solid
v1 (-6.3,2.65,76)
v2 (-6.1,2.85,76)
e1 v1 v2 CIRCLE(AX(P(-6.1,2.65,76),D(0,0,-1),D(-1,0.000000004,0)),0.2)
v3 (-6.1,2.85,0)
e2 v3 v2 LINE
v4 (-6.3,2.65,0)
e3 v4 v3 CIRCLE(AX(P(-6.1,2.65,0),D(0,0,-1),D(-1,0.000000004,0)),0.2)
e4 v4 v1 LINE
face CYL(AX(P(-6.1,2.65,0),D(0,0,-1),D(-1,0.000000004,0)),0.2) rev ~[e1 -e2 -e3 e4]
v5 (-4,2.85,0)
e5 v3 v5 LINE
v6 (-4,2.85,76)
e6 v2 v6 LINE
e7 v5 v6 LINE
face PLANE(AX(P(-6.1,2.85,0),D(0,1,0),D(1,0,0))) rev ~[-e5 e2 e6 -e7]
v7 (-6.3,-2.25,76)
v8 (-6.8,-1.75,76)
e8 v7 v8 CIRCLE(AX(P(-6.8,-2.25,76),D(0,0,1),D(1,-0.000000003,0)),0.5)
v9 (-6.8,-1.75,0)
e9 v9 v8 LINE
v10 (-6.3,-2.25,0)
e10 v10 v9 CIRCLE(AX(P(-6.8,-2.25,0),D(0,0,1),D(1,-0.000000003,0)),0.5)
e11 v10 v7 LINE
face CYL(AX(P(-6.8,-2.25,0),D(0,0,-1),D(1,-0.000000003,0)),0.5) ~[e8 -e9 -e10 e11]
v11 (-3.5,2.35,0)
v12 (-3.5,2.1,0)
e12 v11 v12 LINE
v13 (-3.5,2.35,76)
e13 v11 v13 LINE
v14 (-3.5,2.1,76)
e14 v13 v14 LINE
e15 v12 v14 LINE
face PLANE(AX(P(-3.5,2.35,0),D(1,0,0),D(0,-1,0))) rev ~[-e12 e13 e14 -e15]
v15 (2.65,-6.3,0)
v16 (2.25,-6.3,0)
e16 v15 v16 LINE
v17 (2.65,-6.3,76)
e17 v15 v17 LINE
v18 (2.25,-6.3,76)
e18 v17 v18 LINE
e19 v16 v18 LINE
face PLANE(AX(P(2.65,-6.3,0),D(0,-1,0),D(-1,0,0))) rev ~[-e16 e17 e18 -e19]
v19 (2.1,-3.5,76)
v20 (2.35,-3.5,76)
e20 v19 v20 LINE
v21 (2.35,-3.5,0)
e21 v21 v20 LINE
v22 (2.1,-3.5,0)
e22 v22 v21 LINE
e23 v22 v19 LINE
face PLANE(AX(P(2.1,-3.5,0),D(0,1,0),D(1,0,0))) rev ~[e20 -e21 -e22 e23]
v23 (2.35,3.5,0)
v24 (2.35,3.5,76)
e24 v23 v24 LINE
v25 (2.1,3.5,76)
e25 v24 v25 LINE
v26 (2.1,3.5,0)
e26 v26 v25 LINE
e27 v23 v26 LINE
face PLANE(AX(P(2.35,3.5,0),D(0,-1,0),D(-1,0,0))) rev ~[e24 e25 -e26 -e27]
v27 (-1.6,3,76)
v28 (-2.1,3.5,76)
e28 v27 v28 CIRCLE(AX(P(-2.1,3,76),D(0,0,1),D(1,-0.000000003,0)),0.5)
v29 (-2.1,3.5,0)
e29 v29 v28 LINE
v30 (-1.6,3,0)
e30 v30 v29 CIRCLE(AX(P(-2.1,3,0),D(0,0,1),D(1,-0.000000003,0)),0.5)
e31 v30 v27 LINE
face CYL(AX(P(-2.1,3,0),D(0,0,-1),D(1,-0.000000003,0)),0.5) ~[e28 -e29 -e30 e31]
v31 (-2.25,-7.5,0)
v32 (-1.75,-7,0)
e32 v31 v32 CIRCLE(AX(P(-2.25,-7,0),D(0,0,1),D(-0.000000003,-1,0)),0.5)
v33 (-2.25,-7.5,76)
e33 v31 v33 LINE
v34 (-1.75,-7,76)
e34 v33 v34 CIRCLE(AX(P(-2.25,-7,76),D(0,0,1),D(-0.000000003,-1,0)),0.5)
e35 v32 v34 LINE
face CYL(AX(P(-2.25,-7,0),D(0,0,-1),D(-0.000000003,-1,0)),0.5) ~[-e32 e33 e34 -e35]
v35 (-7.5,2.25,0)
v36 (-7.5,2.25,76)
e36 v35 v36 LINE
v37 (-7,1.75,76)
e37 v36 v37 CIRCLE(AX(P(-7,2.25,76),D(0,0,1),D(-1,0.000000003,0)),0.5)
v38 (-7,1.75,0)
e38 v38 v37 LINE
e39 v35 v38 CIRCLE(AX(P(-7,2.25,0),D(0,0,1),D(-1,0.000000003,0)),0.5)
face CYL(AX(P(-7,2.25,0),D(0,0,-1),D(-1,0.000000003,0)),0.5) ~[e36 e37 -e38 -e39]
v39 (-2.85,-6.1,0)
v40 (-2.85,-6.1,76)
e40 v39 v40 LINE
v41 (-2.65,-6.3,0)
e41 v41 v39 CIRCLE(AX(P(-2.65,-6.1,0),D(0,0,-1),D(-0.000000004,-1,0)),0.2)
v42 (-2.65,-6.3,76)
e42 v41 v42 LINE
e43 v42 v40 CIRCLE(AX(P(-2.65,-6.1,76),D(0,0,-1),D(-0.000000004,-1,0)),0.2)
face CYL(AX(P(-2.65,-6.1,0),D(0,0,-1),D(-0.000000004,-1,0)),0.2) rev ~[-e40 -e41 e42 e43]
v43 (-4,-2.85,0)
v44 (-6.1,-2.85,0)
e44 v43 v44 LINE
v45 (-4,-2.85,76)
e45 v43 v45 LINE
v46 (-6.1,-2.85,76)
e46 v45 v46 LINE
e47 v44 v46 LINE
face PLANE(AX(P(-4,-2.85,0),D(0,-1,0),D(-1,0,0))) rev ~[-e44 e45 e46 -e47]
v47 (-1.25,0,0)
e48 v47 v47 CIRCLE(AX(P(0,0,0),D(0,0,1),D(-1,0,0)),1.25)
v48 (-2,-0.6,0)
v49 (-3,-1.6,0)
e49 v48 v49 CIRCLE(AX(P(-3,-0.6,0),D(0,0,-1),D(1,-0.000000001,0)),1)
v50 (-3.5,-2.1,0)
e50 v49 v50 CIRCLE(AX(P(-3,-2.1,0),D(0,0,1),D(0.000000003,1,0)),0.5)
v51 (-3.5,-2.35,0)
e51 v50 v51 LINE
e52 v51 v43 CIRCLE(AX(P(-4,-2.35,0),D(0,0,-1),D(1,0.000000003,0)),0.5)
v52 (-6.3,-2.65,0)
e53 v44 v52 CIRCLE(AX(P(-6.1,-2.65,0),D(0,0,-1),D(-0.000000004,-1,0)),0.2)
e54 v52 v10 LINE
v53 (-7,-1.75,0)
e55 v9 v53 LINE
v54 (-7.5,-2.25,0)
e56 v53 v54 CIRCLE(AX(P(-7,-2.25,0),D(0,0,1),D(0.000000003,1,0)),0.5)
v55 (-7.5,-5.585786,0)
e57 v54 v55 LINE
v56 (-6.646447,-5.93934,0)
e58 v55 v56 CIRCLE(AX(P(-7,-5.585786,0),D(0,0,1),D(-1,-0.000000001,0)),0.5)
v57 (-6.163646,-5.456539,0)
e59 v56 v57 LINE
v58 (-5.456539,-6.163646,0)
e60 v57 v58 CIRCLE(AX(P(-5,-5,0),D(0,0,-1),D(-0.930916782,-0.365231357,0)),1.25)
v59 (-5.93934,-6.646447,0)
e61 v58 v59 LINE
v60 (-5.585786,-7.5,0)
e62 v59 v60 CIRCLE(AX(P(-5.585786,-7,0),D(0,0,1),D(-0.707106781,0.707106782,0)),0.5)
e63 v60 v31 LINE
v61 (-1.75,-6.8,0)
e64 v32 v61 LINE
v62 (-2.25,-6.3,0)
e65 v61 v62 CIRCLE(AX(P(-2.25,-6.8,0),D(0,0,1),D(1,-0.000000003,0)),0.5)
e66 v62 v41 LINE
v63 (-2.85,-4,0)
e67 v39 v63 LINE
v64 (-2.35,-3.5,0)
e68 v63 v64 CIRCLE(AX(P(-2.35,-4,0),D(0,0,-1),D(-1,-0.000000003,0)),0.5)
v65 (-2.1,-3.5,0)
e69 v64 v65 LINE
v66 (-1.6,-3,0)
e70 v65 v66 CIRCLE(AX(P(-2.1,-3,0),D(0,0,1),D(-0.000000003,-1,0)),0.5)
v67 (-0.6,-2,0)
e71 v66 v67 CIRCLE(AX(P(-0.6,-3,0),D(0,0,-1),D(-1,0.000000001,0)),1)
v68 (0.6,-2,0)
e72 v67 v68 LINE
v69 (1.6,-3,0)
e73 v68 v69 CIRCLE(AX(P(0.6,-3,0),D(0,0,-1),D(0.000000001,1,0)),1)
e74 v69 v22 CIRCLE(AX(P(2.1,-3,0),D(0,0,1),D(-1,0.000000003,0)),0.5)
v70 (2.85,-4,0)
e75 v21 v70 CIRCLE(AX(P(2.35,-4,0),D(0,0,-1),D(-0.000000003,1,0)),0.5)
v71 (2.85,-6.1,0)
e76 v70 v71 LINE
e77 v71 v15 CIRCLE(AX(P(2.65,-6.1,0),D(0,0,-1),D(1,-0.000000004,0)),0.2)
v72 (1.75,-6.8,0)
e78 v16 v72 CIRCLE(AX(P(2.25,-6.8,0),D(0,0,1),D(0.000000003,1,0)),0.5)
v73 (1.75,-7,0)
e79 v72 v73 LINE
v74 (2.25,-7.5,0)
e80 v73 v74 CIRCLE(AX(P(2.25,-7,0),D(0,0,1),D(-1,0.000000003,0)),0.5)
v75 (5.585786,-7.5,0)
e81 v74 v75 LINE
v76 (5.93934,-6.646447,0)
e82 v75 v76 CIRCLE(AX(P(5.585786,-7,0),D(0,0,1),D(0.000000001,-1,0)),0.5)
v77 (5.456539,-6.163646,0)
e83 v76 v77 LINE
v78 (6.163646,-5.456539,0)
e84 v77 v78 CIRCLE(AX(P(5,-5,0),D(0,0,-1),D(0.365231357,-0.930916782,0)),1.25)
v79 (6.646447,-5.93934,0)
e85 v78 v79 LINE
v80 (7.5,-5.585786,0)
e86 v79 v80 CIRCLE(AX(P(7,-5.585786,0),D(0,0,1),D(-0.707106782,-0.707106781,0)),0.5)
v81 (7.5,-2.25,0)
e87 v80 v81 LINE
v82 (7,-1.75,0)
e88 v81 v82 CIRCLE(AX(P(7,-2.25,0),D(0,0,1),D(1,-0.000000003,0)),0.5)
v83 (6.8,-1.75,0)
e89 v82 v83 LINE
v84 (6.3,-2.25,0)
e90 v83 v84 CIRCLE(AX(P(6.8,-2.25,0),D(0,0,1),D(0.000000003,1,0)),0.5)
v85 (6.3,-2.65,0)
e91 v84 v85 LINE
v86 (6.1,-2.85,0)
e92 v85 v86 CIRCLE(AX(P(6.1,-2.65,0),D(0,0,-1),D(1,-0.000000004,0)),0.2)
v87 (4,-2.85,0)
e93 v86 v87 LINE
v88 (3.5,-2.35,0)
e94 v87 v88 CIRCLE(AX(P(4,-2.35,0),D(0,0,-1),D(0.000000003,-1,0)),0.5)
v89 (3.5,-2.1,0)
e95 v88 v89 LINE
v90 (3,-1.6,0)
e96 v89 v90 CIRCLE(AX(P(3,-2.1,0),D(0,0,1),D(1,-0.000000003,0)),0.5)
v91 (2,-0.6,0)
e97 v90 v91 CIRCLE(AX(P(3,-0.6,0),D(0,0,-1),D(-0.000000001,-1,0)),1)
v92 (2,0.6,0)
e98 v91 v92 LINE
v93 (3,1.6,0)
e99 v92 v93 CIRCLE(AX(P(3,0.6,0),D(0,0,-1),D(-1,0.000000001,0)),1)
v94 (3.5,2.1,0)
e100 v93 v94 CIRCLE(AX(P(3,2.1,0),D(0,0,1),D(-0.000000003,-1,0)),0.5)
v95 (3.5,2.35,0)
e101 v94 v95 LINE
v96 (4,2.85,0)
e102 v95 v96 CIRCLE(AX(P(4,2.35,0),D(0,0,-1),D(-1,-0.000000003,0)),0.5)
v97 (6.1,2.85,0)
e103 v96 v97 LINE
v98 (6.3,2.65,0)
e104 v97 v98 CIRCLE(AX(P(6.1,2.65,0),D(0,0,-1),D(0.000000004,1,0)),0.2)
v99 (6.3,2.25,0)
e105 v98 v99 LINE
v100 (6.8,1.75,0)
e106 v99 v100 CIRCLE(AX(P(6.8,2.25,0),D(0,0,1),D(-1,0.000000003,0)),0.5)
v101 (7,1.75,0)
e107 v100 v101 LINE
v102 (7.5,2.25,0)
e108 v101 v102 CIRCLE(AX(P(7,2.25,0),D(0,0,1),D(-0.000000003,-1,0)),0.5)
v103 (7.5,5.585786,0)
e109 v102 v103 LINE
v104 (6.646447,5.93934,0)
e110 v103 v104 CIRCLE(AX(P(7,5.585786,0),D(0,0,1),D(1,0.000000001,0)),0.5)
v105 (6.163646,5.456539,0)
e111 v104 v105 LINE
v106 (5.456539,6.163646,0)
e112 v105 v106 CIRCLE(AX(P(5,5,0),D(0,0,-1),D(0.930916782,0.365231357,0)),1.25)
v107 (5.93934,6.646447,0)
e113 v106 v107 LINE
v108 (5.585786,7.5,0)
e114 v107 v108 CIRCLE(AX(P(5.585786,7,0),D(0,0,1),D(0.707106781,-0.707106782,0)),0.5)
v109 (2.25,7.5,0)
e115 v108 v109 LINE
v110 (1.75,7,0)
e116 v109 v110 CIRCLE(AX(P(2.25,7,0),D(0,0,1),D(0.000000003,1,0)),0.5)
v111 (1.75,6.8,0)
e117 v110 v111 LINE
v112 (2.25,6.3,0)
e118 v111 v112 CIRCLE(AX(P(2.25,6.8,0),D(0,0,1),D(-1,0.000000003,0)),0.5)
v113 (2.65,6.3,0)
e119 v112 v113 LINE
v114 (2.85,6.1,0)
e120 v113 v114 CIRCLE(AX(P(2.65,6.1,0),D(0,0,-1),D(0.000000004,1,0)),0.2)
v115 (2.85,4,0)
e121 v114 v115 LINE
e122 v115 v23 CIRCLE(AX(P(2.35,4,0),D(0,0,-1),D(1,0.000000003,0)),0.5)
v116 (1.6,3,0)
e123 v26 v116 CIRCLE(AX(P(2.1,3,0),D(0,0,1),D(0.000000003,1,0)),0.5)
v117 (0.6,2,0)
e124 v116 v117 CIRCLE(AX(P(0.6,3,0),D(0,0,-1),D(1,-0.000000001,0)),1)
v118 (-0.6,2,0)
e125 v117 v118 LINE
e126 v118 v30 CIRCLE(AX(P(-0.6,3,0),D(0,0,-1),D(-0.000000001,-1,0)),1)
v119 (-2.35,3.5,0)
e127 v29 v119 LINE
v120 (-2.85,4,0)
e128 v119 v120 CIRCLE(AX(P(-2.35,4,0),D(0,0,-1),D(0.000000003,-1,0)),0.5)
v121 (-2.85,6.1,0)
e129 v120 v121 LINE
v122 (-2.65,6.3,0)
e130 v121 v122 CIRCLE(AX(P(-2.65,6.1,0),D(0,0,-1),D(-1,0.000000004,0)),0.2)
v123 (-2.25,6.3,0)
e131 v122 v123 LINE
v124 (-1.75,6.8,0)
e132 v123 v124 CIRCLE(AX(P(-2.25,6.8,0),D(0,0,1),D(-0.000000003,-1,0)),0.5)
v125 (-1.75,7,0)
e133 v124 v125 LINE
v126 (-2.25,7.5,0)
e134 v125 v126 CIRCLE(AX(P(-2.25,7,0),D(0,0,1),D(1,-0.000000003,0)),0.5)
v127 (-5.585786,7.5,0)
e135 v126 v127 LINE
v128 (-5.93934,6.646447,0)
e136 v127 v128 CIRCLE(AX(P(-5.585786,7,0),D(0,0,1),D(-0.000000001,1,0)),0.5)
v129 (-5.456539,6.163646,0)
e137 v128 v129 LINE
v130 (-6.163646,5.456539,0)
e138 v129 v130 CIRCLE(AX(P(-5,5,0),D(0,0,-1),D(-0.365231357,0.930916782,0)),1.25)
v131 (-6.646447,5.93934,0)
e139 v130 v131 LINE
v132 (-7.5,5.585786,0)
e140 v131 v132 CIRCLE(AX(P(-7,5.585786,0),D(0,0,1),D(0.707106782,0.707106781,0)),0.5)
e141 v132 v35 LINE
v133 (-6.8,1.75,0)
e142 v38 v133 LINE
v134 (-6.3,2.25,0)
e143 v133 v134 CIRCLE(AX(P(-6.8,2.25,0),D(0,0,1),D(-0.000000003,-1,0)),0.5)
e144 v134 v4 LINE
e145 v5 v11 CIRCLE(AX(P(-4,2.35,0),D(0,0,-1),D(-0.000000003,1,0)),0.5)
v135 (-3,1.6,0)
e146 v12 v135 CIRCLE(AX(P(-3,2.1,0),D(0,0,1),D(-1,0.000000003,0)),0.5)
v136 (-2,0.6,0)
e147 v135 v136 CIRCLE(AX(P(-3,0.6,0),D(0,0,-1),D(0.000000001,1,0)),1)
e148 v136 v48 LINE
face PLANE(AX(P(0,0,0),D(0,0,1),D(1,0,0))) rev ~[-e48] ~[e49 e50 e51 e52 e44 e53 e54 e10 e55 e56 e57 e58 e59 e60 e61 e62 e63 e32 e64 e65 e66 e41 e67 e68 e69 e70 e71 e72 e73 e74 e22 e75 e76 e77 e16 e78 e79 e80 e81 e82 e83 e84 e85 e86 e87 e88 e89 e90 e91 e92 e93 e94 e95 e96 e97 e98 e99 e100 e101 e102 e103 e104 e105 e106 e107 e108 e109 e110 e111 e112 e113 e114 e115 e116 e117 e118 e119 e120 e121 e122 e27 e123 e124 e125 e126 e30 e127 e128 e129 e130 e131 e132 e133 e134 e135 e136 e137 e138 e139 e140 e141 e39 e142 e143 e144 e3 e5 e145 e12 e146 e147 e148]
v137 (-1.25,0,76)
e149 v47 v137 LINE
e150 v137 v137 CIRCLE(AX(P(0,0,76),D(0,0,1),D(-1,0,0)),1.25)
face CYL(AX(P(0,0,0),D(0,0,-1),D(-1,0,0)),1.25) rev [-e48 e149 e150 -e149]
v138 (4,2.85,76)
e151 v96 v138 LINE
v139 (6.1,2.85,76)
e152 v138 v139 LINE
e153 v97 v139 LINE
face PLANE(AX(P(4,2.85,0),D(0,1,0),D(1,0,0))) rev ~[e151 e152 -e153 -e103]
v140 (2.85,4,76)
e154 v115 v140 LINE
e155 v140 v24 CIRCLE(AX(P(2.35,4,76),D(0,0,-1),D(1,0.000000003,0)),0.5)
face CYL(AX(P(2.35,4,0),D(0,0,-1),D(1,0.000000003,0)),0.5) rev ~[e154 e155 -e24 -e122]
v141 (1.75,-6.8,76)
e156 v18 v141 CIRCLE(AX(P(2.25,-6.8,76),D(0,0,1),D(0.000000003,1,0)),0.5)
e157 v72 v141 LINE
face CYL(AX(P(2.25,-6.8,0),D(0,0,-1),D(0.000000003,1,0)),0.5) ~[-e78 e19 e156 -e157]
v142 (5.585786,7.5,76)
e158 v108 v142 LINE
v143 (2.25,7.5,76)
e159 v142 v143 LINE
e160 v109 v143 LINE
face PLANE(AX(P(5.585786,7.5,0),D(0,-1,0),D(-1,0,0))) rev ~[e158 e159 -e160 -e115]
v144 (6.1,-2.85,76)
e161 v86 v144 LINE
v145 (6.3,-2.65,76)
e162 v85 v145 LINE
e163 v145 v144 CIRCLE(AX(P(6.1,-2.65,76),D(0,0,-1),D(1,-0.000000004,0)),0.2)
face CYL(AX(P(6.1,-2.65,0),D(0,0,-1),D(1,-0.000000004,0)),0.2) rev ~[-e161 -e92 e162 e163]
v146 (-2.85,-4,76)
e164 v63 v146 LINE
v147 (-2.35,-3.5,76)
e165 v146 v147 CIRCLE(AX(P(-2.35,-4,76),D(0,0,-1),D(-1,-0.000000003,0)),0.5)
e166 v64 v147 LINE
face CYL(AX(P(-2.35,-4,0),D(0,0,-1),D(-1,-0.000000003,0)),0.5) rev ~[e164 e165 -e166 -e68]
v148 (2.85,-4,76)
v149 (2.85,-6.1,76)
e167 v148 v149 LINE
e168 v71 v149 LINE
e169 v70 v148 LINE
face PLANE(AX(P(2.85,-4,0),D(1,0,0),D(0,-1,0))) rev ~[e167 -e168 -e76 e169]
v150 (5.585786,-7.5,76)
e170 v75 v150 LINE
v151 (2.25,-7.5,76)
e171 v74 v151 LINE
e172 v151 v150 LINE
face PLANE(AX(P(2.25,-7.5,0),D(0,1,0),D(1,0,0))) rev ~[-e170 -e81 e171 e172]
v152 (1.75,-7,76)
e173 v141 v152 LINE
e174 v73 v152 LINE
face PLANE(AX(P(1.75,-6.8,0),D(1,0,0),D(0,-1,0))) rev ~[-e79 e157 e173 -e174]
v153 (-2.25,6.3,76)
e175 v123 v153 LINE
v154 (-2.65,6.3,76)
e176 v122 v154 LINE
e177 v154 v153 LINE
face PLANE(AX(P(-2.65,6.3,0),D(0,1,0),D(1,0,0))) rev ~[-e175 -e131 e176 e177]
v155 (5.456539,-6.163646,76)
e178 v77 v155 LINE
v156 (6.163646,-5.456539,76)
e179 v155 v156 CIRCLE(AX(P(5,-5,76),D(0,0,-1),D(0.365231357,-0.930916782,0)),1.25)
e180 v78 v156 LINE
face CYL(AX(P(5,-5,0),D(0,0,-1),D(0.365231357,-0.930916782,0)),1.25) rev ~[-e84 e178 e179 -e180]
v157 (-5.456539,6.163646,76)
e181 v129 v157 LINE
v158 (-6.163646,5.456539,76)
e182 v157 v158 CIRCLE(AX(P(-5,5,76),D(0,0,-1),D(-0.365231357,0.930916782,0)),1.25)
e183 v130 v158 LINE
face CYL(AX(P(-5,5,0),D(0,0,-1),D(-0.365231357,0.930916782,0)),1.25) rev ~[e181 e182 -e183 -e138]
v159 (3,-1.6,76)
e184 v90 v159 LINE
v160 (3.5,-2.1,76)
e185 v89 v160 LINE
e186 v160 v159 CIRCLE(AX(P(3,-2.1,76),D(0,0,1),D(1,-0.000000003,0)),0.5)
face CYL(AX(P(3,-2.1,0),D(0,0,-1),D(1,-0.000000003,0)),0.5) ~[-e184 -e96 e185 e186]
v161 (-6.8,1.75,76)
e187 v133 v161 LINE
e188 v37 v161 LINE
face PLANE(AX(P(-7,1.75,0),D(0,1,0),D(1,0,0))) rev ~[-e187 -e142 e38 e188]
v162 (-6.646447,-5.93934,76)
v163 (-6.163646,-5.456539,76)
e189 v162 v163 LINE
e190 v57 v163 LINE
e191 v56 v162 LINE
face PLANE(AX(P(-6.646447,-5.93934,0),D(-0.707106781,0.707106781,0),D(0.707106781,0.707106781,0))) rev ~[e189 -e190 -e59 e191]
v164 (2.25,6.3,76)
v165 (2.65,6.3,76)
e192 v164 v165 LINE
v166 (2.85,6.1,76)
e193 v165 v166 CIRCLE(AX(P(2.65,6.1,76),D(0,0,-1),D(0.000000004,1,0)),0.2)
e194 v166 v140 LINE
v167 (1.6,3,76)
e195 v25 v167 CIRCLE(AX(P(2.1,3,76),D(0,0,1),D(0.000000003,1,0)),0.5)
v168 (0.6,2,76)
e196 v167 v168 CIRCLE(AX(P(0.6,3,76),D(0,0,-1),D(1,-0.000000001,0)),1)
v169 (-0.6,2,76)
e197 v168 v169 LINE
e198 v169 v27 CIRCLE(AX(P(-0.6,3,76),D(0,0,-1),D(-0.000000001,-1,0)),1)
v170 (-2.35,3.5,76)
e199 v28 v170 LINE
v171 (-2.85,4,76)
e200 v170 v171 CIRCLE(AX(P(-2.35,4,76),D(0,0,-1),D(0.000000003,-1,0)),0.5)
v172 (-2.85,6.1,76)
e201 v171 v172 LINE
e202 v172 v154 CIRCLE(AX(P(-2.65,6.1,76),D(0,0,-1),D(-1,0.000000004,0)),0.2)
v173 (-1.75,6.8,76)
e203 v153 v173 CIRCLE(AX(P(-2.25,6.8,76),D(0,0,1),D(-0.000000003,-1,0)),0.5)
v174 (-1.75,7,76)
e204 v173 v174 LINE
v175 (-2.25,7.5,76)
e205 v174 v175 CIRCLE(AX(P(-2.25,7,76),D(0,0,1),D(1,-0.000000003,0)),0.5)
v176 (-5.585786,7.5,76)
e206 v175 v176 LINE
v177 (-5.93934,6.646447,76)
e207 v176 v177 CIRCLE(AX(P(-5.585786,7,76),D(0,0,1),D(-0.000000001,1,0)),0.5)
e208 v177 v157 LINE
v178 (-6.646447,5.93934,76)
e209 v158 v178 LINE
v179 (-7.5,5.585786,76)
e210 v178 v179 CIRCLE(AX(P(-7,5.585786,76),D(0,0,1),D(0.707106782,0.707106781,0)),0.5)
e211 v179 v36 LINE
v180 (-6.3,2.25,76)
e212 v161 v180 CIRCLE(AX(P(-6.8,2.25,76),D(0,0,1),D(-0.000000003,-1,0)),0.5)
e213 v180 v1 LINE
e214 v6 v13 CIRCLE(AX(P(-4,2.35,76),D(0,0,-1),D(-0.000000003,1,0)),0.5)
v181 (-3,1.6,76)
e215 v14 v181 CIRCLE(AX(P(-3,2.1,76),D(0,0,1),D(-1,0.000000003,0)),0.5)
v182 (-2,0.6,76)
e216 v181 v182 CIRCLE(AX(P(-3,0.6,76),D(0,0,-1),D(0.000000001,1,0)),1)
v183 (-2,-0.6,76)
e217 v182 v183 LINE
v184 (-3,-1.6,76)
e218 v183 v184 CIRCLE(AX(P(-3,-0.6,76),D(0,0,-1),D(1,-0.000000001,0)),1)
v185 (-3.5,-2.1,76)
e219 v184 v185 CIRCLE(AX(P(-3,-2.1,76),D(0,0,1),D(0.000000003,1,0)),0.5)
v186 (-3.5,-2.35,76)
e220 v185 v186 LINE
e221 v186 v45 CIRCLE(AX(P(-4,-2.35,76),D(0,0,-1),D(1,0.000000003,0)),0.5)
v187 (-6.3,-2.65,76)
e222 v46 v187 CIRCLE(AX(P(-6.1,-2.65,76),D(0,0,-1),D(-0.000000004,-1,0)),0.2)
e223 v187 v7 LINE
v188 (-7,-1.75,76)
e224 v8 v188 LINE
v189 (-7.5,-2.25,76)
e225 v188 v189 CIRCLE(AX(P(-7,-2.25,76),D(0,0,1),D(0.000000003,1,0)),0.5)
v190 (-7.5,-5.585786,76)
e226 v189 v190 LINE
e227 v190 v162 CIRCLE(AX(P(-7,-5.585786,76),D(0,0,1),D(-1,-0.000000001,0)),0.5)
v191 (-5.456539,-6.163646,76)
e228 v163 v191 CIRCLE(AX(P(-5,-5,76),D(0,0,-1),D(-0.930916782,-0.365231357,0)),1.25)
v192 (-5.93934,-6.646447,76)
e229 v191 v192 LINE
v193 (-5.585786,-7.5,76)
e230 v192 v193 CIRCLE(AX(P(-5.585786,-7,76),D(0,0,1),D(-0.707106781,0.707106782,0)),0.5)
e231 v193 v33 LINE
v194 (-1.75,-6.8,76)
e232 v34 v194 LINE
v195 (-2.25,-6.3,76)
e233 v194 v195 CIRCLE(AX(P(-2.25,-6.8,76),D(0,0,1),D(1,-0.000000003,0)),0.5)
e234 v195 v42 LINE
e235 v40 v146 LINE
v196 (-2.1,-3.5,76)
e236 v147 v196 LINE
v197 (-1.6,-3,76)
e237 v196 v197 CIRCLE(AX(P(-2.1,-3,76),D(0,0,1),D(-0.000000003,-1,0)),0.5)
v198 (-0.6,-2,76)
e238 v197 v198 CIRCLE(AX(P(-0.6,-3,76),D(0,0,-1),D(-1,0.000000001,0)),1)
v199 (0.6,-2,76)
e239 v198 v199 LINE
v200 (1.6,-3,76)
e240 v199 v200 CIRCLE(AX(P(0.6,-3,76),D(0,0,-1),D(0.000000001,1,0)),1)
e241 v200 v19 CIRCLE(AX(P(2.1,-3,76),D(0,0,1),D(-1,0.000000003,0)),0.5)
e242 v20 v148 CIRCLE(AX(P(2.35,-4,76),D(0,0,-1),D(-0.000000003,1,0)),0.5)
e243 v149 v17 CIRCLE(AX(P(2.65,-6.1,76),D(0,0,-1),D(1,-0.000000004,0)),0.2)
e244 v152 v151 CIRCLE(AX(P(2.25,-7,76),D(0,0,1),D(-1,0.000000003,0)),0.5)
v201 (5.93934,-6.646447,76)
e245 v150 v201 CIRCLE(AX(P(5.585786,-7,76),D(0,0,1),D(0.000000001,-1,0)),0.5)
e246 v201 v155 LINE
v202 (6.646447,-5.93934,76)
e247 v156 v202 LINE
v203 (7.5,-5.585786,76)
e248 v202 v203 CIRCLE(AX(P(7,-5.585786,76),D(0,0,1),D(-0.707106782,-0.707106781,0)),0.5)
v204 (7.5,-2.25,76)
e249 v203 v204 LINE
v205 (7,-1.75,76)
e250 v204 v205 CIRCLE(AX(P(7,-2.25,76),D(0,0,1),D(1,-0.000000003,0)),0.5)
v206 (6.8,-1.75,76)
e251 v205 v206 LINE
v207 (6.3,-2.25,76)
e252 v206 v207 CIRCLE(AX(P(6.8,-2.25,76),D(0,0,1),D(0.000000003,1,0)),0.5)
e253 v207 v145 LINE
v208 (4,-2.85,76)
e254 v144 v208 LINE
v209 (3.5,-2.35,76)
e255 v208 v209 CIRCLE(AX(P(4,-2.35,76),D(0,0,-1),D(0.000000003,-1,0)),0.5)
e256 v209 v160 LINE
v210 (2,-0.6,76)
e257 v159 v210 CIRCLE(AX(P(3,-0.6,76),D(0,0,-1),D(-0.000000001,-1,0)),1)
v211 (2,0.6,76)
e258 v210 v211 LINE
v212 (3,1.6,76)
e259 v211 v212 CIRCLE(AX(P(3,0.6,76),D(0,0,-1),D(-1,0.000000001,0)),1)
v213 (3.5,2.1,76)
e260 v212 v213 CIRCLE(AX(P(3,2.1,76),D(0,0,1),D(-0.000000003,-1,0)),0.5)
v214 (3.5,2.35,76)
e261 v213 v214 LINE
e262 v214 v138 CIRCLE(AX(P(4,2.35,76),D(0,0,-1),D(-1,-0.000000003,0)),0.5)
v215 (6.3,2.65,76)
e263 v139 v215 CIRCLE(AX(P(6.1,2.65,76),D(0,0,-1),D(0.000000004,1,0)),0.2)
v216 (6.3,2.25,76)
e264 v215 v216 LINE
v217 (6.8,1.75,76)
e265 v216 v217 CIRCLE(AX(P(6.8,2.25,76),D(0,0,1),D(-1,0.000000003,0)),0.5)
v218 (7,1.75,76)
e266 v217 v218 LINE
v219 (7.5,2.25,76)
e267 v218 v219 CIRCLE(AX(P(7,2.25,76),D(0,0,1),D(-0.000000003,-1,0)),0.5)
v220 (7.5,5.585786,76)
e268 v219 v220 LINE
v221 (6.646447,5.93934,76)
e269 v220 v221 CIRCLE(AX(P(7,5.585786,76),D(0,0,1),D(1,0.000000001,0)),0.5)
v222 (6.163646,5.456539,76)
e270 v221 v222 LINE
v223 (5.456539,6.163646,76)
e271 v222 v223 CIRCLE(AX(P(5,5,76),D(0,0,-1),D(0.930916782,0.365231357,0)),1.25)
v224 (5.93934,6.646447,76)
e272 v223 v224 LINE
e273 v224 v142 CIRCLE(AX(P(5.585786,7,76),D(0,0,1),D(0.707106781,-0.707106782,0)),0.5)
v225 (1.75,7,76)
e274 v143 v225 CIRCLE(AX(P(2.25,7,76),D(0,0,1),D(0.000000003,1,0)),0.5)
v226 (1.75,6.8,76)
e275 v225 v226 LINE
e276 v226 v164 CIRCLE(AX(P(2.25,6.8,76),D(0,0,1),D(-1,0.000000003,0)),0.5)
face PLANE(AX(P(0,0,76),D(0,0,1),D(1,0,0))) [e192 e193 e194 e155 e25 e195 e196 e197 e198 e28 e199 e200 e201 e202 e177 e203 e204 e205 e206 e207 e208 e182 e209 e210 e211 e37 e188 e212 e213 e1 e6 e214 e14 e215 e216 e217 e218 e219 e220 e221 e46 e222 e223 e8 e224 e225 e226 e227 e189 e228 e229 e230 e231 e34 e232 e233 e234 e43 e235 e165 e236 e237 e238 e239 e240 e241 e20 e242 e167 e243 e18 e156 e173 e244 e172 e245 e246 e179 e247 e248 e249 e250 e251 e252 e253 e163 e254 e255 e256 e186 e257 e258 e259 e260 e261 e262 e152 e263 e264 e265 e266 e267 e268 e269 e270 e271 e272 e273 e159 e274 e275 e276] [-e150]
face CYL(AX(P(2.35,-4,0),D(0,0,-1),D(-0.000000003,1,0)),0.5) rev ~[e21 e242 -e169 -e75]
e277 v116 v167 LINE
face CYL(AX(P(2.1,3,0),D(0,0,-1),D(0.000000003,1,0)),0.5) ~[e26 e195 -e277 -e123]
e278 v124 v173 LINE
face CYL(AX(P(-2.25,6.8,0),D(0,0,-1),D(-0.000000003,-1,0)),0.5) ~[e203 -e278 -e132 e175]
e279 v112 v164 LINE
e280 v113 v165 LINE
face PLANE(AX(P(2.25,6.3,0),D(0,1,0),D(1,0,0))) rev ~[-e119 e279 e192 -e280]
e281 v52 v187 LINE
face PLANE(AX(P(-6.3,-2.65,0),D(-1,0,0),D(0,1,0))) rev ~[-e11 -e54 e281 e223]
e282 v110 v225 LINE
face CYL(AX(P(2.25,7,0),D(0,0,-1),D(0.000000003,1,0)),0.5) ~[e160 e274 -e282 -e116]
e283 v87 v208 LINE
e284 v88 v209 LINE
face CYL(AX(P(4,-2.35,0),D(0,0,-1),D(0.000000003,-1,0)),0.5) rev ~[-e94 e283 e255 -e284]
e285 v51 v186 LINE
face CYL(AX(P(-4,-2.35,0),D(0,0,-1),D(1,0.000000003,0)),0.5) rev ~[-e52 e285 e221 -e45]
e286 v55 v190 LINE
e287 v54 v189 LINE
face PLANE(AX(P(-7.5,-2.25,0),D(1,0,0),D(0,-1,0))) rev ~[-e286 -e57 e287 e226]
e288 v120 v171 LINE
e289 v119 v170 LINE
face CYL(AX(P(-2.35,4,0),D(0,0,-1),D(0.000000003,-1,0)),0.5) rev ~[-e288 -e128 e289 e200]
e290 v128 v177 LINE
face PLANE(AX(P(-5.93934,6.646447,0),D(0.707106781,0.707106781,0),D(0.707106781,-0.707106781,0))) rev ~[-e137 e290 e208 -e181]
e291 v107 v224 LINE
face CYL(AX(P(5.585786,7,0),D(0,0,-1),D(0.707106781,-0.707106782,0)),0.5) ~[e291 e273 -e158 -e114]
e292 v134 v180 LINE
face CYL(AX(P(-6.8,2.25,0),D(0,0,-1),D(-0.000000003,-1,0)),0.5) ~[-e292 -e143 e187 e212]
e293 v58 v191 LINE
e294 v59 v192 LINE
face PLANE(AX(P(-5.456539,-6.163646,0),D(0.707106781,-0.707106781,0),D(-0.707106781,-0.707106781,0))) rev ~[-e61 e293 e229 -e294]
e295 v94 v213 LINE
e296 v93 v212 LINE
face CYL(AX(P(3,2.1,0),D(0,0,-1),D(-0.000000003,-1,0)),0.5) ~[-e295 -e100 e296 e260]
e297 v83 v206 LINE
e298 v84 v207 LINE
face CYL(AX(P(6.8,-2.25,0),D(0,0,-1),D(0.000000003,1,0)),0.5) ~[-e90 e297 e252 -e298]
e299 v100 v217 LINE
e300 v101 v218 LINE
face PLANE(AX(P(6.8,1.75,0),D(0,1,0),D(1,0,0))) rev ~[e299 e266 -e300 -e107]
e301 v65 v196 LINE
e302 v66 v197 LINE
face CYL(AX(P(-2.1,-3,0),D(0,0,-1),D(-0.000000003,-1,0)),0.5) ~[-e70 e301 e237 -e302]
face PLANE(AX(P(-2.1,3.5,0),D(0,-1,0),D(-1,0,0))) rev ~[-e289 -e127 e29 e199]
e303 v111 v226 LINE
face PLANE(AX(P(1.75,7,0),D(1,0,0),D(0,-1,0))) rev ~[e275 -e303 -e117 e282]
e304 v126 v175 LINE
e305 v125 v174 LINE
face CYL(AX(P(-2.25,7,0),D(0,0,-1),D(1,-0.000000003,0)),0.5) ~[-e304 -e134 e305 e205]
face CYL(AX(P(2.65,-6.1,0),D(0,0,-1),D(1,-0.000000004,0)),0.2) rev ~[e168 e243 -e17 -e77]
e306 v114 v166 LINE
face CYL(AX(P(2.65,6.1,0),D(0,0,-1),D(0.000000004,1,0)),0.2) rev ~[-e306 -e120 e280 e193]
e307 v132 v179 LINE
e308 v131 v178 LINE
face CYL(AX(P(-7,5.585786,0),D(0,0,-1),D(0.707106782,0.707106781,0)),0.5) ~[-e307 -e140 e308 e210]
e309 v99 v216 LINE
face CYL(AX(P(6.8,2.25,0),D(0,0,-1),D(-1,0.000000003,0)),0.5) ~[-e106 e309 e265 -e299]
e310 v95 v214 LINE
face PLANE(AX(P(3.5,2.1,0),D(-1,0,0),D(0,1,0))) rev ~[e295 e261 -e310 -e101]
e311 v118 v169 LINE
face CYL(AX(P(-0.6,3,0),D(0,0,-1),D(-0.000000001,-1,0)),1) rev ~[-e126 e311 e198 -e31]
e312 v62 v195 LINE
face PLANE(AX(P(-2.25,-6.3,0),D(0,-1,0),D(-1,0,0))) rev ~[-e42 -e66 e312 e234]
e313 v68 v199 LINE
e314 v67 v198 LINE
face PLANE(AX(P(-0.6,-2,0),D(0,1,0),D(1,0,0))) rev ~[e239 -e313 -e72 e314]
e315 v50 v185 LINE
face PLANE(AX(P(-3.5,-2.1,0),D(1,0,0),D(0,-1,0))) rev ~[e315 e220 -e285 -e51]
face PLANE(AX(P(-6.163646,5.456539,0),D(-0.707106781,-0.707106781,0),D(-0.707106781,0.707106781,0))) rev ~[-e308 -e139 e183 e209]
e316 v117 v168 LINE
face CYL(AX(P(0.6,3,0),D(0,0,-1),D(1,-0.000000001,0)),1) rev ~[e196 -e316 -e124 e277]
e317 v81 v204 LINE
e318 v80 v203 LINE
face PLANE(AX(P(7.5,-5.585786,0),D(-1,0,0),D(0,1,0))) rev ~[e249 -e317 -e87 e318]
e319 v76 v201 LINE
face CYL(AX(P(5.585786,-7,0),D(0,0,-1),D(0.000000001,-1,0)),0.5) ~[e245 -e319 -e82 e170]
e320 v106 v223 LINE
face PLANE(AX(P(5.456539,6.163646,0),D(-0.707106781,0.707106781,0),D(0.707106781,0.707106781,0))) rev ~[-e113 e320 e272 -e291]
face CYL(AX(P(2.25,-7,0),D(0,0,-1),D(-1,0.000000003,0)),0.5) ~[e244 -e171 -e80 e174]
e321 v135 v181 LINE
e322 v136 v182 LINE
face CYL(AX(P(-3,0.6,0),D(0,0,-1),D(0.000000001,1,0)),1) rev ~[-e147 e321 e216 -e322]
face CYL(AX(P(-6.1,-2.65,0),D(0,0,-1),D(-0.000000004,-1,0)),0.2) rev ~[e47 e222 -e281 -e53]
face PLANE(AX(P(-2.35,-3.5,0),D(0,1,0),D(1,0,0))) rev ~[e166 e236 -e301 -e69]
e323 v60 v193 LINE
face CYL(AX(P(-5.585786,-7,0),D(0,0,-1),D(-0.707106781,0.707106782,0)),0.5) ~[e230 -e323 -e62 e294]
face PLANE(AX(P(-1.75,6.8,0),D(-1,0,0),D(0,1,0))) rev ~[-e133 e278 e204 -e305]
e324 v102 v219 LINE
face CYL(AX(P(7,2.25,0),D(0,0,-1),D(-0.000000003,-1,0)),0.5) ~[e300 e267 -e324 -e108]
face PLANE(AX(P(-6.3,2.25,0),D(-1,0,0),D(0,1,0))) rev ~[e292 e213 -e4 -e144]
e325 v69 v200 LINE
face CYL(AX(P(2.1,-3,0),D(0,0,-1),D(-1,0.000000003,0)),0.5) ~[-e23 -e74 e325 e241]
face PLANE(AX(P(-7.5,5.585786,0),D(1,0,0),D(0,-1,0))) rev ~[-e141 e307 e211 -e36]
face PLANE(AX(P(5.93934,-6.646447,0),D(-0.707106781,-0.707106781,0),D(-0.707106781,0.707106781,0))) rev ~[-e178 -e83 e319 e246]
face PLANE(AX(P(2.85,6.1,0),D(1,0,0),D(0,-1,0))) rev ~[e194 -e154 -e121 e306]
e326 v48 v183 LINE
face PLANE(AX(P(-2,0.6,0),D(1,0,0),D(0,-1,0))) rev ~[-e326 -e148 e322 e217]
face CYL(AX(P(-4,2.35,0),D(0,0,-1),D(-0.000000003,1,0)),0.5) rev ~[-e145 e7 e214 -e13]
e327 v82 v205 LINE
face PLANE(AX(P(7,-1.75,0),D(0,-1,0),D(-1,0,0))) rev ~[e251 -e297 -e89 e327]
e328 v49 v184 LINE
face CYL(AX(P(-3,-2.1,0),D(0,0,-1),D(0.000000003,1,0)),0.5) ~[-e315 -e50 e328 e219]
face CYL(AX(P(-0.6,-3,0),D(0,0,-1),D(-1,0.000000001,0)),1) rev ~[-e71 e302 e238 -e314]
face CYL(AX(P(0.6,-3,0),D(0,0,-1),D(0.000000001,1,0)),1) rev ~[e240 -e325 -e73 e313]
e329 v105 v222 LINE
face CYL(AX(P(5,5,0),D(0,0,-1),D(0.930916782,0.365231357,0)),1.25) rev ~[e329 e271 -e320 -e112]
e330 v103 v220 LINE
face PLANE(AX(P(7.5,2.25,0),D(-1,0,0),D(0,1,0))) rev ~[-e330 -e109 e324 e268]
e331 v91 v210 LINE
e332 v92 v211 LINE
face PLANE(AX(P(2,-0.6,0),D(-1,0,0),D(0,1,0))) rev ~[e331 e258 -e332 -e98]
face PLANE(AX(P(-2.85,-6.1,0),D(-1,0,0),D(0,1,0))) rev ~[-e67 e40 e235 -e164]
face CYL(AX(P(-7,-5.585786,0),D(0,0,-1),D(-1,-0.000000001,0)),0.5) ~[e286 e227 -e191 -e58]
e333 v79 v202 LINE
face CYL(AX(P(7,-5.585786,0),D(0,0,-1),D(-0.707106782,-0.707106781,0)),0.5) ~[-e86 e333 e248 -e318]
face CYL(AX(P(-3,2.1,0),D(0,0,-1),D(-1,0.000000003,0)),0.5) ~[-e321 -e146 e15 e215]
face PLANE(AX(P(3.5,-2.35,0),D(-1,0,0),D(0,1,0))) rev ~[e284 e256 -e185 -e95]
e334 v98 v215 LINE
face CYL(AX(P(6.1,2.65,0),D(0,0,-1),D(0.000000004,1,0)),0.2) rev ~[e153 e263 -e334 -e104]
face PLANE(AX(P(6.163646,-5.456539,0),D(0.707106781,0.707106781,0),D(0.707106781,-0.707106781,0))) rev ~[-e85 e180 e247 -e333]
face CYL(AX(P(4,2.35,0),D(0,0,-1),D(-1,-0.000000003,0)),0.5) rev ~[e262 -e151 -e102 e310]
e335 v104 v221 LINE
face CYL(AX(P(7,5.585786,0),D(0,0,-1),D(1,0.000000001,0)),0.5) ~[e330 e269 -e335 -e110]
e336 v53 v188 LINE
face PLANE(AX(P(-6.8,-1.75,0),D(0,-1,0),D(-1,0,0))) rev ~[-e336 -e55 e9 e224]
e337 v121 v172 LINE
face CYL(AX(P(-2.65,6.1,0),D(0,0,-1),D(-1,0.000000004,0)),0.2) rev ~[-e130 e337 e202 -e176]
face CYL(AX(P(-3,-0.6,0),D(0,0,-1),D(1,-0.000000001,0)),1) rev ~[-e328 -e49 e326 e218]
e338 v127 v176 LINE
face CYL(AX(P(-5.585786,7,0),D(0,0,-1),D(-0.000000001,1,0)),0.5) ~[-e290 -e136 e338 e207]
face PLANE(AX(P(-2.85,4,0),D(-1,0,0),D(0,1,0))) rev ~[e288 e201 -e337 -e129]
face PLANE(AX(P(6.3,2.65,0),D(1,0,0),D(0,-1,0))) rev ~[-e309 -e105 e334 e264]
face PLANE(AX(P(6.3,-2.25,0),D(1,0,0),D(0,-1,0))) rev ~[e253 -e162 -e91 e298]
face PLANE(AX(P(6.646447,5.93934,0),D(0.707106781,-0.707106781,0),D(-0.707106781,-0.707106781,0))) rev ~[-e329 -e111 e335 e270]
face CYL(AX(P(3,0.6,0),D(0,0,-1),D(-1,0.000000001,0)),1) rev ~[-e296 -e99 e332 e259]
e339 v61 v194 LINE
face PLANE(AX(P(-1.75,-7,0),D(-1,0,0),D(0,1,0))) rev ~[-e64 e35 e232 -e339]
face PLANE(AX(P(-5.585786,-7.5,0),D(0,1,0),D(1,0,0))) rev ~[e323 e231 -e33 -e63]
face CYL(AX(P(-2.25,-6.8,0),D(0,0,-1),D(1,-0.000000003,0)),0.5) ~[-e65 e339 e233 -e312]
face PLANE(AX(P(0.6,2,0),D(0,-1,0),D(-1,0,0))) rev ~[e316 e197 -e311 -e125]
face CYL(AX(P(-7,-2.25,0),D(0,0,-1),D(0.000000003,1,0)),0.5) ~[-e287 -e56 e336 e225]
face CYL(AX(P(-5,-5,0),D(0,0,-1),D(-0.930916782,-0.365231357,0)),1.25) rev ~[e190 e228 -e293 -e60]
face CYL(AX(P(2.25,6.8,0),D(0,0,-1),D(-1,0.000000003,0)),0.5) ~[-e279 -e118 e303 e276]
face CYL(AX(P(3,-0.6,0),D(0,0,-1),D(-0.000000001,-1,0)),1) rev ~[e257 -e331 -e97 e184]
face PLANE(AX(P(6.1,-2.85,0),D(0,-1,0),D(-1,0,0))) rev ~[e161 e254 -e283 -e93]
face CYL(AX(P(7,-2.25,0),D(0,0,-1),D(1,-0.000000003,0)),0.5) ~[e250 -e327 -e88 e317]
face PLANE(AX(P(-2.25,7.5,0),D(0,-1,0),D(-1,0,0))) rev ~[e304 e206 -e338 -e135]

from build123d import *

# Parameters (mm, degrees)
SKETCH1_R           = 1.25
BOSS_EXTRUDE1_DEPTH = 76


with BuildPart() as part:
    # Sketch1 → Boss-Extrude1 (new body)
    with BuildSketch(Plane.XY):
        with BuildLine():
            Line((6.646446609, 5.939339828), (6.163645978, 5.456539197))
            ThreePointArc((6.163645978, 5.456539197), (4.116116524, 4.116116524), (5.456539197, 6.163645978))
            Line((5.456539197, 6.163645978), (5.939339828, 6.646446609))
            ThreePointArc((5.939339828, 6.646446609), (6.047726204, 7.191341716), (5.585786438, 7.5))
            Line((5.585786438, 7.5), (2.25, 7.5))
            ThreePointArc((2.25, 7.5), (1.896446609, 7.353553391), (1.75, 7))
            Line((1.75, 7), (1.75, 6.8))
            ThreePointArc((1.75, 6.8), (1.896446609, 6.446446609), (2.25, 6.3))
            Line((2.25, 6.3), (2.65, 6.3))
            ThreePointArc((2.65, 6.3), (2.791421356, 6.241421356), (2.85, 6.1))
            Line((2.85, 6.1), (2.85, 4))
            ThreePointArc((2.85, 4), (2.703553391, 3.646446609), (2.35, 3.5))
            Line((2.35, 3.5), (2.1, 3.5))
            ThreePointArc((2.1, 3.5), (1.746446609, 3.353553391), (1.6, 3))
            ThreePointArc((1.6, 3), (1.307106781, 2.292893219), (0.6, 2))
            Line((0.6, 2), (-0.6, 2))
            ThreePointArc((-0.6, 2), (-1.307106781, 2.292893219), (-1.6, 3))
            ThreePointArc((-1.6, 3), (-1.746446609, 3.353553391), (-2.1, 3.5))
            Line((-2.1, 3.5), (-2.35, 3.5))
            ThreePointArc((-2.35, 3.5), (-2.703553391, 3.646446609), (-2.85, 4))
            Line((-2.85, 4), (-2.85, 6.1))
            ThreePointArc((-2.85, 6.1), (-2.791421356, 6.241421356), (-2.65, 6.3))
            Line((-2.65, 6.3), (-2.25, 6.3))
            ThreePointArc((-2.25, 6.3), (-1.896446609, 6.446446609), (-1.75, 6.8))
            Line((-1.75, 6.8), (-1.75, 7))
            ThreePointArc((-1.75, 7), (-1.896446609, 7.353553391), (-2.25, 7.5))
            Line((-2.25, 7.5), (-5.585786438, 7.5))
            ThreePointArc((-5.585786438, 7.5), (-6.047726204, 7.191341716), (-5.939339828, 6.646446609))
            Line((-5.939339828, 6.646446609), (-5.456539197, 6.163645978))
            ThreePointArc((-5.456539197, 6.163645978), (-4.116116524, 4.116116524), (-6.163645978, 5.456539197))
            Line((-6.163645978, 5.456539197), (-6.646446609, 5.939339828))
            ThreePointArc((-6.646446609, 5.939339828), (-7.191341716, 6.047726204), (-7.5, 5.585786438))
            Line((-7.5, 5.585786438), (-7.5, 2.25))
            ThreePointArc((-7.5, 2.25), (-7.353553391, 1.896446609), (-7, 1.75))
            Line((-7, 1.75), (-6.8, 1.75))
            ThreePointArc((-6.8, 1.75), (-6.446446609, 1.896446609), (-6.3, 2.25))
            Line((-6.3, 2.25), (-6.3, 2.65))
            ThreePointArc((-6.3, 2.65), (-6.241421356, 2.791421356), (-6.1, 2.85))
            Line((-6.1, 2.85), (-4, 2.85))
            ThreePointArc((-4, 2.85), (-3.646446609, 2.703553391), (-3.5, 2.35))
            Line((-3.5, 2.35), (-3.5, 2.1))
            ThreePointArc((-3.5, 2.1), (-3.353553391, 1.746446609), (-3, 1.6))
            ThreePointArc((-3, 1.6), (-2.292893219, 1.307106781), (-2, 0.6))
            Line((-2, 0.6), (-2, -0.6))
            ThreePointArc((-2, -0.6), (-2.292893219, -1.307106781), (-3, -1.6))
            ThreePointArc((-3, -1.6), (-3.353553391, -1.746446609), (-3.5, -2.1))
            Line((-3.5, -2.1), (-3.5, -2.35))
            ThreePointArc((-3.5, -2.35), (-3.646446609, -2.703553391), (-4, -2.85))
            Line((-4, -2.85), (-6.1, -2.85))
            ThreePointArc((-6.1, -2.85), (-6.241421356, -2.791421356), (-6.3, -2.65))
            Line((-6.3, -2.65), (-6.3, -2.25))
            ThreePointArc((-6.3, -2.25), (-6.446446609, -1.896446609), (-6.8, -1.75))
            Line((-6.8, -1.75), (-7, -1.75))
            ThreePointArc((-7, -1.75), (-7.353553391, -1.896446609), (-7.5, -2.25))
            Line((-7.5, -2.25), (-7.5, -5.585786438))
            ThreePointArc((-7.5, -5.585786438), (-7.191341716, -6.047726204), (-6.646446609, -5.939339828))
            Line((-6.646446609, -5.939339828), (-6.163645978, -5.456539197))
            ThreePointArc((-6.163645978, -5.456539197), (-4.116116524, -4.116116524), (-5.456539197, -6.163645978))
            Line((-5.456539197, -6.163645978), (-5.939339828, -6.646446609))
            ThreePointArc((-5.939339828, -6.646446609), (-6.047726204, -7.191341716), (-5.585786438, -7.5))
            Line((-5.585786438, -7.5), (-2.25, -7.5))
            ThreePointArc((-2.25, -7.5), (-1.896446609, -7.353553391), (-1.75, -7))
            Line((-1.75, -7), (-1.75, -6.8))
            ThreePointArc((-1.75, -6.8), (-1.896446609, -6.446446609), (-2.25, -6.3))
            Line((-2.25, -6.3), (-2.65, -6.3))
            ThreePointArc((-2.65, -6.3), (-2.791421356, -6.241421356), (-2.85, -6.1))
            Line((-2.85, -6.1), (-2.85, -4))
            ThreePointArc((-2.85, -4), (-2.703553391, -3.646446609), (-2.35, -3.5))
            Line((-2.35, -3.5), (-2.1, -3.5))
            ThreePointArc((-2.1, -3.5), (-1.746446609, -3.353553391), (-1.6, -3))
            ThreePointArc((-1.6, -3), (-1.307106781, -2.292893219), (-0.6, -2))
            Line((-0.6, -2), (0.6, -2))
            ThreePointArc((0.6, -2), (1.307106781, -2.292893219), (1.6, -3))
            ThreePointArc((1.6, -3), (1.746446609, -3.353553391), (2.1, -3.5))
            Line((2.1, -3.5), (2.35, -3.5))
            ThreePointArc((2.35, -3.5), (2.703553391, -3.646446609), (2.85, -4))
            Line((2.85, -4), (2.85, -6.1))
            ThreePointArc((2.85, -6.1), (2.791421356, -6.241421356), (2.65, -6.3))
            Line((2.65, -6.3), (2.25, -6.3))
            ThreePointArc((2.25, -6.3), (1.896446609, -6.446446609), (1.75, -6.8))
            Line((1.75, -6.8), (1.75, -7))
            ThreePointArc((1.75, -7), (1.896446609, -7.353553391), (2.25, -7.5))
            Line((2.25, -7.5), (5.585786438, -7.5))
            ThreePointArc((5.585786438, -7.5), (6.047726204, -7.191341716), (5.939339828, -6.646446609))
            Line((5.939339828, -6.646446609), (5.456539197, -6.163645978))
            ThreePointArc((5.456539197, -6.163645978), (4.116116524, -4.116116524), (6.163645978, -5.456539197))
            Line((6.163645978, -5.456539197), (6.646446609, -5.939339828))
            ThreePointArc((6.646446609, -5.939339828), (7.191341716, -6.047726204), (7.5, -5.585786438))
            Line((7.5, -5.585786438), (7.5, -2.25))
            ThreePointArc((7.5, -2.25), (7.353553391, -1.896446609), (7, -1.75))
            Line((7, -1.75), (6.8, -1.75))
            ThreePointArc((6.8, -1.75), (6.446446609, -1.896446609), (6.3, -2.25))
            Line((6.3, -2.25), (6.3, -2.65))
            ThreePointArc((6.3, -2.65), (6.241421356, -2.791421356), (6.1, -2.85))
            Line((6.1, -2.85), (4, -2.85))
            ThreePointArc((4, -2.85), (3.646446609, -2.703553391), (3.5, -2.35))
            Line((3.5, -2.35), (3.5, -2.1))
            ThreePointArc((3.5, -2.1), (3.353553391, -1.746446609), (3, -1.6))
            ThreePointArc((3, -1.6), (2.292893219, -1.307106781), (2, -0.6))
            Line((2, -0.6), (2, 0.6))
            ThreePointArc((2, 0.6), (2.292893219, 1.307106781), (3, 1.6))
            ThreePointArc((3, 1.6), (3.353553391, 1.746446609), (3.5, 2.1))
            Line((3.5, 2.1), (3.5, 2.35))
            ThreePointArc((3.5, 2.35), (3.646446609, 2.703553391), (4, 2.85))
            Line((4, 2.85), (6.1, 2.85))
            ThreePointArc((6.1, 2.85), (6.241421356, 2.791421356), (6.3, 2.65))
            Line((6.3, 2.65), (6.3, 2.25))
            ThreePointArc((6.3, 2.25), (6.446446609, 1.896446609), (6.8, 1.75))
            Line((6.8, 1.75), (7, 1.75))
            ThreePointArc((7, 1.75), (7.353553391, 1.896446609), (7.5, 2.25))
            Line((7.5, 2.25), (7.5, 5.585786438))
            ThreePointArc((7.5, 5.585786438), (7.191341716, 6.047726204), (6.646446609, 5.939339828))
        make_face()
        with Locations(Location((0, 0, 0), (0, 0, 180))):
            Circle(SKETCH1_R, mode=Mode.SUBTRACT)
    extrude(amount=BOSS_EXTRUDE1_DEPTH)


solid = part.part
